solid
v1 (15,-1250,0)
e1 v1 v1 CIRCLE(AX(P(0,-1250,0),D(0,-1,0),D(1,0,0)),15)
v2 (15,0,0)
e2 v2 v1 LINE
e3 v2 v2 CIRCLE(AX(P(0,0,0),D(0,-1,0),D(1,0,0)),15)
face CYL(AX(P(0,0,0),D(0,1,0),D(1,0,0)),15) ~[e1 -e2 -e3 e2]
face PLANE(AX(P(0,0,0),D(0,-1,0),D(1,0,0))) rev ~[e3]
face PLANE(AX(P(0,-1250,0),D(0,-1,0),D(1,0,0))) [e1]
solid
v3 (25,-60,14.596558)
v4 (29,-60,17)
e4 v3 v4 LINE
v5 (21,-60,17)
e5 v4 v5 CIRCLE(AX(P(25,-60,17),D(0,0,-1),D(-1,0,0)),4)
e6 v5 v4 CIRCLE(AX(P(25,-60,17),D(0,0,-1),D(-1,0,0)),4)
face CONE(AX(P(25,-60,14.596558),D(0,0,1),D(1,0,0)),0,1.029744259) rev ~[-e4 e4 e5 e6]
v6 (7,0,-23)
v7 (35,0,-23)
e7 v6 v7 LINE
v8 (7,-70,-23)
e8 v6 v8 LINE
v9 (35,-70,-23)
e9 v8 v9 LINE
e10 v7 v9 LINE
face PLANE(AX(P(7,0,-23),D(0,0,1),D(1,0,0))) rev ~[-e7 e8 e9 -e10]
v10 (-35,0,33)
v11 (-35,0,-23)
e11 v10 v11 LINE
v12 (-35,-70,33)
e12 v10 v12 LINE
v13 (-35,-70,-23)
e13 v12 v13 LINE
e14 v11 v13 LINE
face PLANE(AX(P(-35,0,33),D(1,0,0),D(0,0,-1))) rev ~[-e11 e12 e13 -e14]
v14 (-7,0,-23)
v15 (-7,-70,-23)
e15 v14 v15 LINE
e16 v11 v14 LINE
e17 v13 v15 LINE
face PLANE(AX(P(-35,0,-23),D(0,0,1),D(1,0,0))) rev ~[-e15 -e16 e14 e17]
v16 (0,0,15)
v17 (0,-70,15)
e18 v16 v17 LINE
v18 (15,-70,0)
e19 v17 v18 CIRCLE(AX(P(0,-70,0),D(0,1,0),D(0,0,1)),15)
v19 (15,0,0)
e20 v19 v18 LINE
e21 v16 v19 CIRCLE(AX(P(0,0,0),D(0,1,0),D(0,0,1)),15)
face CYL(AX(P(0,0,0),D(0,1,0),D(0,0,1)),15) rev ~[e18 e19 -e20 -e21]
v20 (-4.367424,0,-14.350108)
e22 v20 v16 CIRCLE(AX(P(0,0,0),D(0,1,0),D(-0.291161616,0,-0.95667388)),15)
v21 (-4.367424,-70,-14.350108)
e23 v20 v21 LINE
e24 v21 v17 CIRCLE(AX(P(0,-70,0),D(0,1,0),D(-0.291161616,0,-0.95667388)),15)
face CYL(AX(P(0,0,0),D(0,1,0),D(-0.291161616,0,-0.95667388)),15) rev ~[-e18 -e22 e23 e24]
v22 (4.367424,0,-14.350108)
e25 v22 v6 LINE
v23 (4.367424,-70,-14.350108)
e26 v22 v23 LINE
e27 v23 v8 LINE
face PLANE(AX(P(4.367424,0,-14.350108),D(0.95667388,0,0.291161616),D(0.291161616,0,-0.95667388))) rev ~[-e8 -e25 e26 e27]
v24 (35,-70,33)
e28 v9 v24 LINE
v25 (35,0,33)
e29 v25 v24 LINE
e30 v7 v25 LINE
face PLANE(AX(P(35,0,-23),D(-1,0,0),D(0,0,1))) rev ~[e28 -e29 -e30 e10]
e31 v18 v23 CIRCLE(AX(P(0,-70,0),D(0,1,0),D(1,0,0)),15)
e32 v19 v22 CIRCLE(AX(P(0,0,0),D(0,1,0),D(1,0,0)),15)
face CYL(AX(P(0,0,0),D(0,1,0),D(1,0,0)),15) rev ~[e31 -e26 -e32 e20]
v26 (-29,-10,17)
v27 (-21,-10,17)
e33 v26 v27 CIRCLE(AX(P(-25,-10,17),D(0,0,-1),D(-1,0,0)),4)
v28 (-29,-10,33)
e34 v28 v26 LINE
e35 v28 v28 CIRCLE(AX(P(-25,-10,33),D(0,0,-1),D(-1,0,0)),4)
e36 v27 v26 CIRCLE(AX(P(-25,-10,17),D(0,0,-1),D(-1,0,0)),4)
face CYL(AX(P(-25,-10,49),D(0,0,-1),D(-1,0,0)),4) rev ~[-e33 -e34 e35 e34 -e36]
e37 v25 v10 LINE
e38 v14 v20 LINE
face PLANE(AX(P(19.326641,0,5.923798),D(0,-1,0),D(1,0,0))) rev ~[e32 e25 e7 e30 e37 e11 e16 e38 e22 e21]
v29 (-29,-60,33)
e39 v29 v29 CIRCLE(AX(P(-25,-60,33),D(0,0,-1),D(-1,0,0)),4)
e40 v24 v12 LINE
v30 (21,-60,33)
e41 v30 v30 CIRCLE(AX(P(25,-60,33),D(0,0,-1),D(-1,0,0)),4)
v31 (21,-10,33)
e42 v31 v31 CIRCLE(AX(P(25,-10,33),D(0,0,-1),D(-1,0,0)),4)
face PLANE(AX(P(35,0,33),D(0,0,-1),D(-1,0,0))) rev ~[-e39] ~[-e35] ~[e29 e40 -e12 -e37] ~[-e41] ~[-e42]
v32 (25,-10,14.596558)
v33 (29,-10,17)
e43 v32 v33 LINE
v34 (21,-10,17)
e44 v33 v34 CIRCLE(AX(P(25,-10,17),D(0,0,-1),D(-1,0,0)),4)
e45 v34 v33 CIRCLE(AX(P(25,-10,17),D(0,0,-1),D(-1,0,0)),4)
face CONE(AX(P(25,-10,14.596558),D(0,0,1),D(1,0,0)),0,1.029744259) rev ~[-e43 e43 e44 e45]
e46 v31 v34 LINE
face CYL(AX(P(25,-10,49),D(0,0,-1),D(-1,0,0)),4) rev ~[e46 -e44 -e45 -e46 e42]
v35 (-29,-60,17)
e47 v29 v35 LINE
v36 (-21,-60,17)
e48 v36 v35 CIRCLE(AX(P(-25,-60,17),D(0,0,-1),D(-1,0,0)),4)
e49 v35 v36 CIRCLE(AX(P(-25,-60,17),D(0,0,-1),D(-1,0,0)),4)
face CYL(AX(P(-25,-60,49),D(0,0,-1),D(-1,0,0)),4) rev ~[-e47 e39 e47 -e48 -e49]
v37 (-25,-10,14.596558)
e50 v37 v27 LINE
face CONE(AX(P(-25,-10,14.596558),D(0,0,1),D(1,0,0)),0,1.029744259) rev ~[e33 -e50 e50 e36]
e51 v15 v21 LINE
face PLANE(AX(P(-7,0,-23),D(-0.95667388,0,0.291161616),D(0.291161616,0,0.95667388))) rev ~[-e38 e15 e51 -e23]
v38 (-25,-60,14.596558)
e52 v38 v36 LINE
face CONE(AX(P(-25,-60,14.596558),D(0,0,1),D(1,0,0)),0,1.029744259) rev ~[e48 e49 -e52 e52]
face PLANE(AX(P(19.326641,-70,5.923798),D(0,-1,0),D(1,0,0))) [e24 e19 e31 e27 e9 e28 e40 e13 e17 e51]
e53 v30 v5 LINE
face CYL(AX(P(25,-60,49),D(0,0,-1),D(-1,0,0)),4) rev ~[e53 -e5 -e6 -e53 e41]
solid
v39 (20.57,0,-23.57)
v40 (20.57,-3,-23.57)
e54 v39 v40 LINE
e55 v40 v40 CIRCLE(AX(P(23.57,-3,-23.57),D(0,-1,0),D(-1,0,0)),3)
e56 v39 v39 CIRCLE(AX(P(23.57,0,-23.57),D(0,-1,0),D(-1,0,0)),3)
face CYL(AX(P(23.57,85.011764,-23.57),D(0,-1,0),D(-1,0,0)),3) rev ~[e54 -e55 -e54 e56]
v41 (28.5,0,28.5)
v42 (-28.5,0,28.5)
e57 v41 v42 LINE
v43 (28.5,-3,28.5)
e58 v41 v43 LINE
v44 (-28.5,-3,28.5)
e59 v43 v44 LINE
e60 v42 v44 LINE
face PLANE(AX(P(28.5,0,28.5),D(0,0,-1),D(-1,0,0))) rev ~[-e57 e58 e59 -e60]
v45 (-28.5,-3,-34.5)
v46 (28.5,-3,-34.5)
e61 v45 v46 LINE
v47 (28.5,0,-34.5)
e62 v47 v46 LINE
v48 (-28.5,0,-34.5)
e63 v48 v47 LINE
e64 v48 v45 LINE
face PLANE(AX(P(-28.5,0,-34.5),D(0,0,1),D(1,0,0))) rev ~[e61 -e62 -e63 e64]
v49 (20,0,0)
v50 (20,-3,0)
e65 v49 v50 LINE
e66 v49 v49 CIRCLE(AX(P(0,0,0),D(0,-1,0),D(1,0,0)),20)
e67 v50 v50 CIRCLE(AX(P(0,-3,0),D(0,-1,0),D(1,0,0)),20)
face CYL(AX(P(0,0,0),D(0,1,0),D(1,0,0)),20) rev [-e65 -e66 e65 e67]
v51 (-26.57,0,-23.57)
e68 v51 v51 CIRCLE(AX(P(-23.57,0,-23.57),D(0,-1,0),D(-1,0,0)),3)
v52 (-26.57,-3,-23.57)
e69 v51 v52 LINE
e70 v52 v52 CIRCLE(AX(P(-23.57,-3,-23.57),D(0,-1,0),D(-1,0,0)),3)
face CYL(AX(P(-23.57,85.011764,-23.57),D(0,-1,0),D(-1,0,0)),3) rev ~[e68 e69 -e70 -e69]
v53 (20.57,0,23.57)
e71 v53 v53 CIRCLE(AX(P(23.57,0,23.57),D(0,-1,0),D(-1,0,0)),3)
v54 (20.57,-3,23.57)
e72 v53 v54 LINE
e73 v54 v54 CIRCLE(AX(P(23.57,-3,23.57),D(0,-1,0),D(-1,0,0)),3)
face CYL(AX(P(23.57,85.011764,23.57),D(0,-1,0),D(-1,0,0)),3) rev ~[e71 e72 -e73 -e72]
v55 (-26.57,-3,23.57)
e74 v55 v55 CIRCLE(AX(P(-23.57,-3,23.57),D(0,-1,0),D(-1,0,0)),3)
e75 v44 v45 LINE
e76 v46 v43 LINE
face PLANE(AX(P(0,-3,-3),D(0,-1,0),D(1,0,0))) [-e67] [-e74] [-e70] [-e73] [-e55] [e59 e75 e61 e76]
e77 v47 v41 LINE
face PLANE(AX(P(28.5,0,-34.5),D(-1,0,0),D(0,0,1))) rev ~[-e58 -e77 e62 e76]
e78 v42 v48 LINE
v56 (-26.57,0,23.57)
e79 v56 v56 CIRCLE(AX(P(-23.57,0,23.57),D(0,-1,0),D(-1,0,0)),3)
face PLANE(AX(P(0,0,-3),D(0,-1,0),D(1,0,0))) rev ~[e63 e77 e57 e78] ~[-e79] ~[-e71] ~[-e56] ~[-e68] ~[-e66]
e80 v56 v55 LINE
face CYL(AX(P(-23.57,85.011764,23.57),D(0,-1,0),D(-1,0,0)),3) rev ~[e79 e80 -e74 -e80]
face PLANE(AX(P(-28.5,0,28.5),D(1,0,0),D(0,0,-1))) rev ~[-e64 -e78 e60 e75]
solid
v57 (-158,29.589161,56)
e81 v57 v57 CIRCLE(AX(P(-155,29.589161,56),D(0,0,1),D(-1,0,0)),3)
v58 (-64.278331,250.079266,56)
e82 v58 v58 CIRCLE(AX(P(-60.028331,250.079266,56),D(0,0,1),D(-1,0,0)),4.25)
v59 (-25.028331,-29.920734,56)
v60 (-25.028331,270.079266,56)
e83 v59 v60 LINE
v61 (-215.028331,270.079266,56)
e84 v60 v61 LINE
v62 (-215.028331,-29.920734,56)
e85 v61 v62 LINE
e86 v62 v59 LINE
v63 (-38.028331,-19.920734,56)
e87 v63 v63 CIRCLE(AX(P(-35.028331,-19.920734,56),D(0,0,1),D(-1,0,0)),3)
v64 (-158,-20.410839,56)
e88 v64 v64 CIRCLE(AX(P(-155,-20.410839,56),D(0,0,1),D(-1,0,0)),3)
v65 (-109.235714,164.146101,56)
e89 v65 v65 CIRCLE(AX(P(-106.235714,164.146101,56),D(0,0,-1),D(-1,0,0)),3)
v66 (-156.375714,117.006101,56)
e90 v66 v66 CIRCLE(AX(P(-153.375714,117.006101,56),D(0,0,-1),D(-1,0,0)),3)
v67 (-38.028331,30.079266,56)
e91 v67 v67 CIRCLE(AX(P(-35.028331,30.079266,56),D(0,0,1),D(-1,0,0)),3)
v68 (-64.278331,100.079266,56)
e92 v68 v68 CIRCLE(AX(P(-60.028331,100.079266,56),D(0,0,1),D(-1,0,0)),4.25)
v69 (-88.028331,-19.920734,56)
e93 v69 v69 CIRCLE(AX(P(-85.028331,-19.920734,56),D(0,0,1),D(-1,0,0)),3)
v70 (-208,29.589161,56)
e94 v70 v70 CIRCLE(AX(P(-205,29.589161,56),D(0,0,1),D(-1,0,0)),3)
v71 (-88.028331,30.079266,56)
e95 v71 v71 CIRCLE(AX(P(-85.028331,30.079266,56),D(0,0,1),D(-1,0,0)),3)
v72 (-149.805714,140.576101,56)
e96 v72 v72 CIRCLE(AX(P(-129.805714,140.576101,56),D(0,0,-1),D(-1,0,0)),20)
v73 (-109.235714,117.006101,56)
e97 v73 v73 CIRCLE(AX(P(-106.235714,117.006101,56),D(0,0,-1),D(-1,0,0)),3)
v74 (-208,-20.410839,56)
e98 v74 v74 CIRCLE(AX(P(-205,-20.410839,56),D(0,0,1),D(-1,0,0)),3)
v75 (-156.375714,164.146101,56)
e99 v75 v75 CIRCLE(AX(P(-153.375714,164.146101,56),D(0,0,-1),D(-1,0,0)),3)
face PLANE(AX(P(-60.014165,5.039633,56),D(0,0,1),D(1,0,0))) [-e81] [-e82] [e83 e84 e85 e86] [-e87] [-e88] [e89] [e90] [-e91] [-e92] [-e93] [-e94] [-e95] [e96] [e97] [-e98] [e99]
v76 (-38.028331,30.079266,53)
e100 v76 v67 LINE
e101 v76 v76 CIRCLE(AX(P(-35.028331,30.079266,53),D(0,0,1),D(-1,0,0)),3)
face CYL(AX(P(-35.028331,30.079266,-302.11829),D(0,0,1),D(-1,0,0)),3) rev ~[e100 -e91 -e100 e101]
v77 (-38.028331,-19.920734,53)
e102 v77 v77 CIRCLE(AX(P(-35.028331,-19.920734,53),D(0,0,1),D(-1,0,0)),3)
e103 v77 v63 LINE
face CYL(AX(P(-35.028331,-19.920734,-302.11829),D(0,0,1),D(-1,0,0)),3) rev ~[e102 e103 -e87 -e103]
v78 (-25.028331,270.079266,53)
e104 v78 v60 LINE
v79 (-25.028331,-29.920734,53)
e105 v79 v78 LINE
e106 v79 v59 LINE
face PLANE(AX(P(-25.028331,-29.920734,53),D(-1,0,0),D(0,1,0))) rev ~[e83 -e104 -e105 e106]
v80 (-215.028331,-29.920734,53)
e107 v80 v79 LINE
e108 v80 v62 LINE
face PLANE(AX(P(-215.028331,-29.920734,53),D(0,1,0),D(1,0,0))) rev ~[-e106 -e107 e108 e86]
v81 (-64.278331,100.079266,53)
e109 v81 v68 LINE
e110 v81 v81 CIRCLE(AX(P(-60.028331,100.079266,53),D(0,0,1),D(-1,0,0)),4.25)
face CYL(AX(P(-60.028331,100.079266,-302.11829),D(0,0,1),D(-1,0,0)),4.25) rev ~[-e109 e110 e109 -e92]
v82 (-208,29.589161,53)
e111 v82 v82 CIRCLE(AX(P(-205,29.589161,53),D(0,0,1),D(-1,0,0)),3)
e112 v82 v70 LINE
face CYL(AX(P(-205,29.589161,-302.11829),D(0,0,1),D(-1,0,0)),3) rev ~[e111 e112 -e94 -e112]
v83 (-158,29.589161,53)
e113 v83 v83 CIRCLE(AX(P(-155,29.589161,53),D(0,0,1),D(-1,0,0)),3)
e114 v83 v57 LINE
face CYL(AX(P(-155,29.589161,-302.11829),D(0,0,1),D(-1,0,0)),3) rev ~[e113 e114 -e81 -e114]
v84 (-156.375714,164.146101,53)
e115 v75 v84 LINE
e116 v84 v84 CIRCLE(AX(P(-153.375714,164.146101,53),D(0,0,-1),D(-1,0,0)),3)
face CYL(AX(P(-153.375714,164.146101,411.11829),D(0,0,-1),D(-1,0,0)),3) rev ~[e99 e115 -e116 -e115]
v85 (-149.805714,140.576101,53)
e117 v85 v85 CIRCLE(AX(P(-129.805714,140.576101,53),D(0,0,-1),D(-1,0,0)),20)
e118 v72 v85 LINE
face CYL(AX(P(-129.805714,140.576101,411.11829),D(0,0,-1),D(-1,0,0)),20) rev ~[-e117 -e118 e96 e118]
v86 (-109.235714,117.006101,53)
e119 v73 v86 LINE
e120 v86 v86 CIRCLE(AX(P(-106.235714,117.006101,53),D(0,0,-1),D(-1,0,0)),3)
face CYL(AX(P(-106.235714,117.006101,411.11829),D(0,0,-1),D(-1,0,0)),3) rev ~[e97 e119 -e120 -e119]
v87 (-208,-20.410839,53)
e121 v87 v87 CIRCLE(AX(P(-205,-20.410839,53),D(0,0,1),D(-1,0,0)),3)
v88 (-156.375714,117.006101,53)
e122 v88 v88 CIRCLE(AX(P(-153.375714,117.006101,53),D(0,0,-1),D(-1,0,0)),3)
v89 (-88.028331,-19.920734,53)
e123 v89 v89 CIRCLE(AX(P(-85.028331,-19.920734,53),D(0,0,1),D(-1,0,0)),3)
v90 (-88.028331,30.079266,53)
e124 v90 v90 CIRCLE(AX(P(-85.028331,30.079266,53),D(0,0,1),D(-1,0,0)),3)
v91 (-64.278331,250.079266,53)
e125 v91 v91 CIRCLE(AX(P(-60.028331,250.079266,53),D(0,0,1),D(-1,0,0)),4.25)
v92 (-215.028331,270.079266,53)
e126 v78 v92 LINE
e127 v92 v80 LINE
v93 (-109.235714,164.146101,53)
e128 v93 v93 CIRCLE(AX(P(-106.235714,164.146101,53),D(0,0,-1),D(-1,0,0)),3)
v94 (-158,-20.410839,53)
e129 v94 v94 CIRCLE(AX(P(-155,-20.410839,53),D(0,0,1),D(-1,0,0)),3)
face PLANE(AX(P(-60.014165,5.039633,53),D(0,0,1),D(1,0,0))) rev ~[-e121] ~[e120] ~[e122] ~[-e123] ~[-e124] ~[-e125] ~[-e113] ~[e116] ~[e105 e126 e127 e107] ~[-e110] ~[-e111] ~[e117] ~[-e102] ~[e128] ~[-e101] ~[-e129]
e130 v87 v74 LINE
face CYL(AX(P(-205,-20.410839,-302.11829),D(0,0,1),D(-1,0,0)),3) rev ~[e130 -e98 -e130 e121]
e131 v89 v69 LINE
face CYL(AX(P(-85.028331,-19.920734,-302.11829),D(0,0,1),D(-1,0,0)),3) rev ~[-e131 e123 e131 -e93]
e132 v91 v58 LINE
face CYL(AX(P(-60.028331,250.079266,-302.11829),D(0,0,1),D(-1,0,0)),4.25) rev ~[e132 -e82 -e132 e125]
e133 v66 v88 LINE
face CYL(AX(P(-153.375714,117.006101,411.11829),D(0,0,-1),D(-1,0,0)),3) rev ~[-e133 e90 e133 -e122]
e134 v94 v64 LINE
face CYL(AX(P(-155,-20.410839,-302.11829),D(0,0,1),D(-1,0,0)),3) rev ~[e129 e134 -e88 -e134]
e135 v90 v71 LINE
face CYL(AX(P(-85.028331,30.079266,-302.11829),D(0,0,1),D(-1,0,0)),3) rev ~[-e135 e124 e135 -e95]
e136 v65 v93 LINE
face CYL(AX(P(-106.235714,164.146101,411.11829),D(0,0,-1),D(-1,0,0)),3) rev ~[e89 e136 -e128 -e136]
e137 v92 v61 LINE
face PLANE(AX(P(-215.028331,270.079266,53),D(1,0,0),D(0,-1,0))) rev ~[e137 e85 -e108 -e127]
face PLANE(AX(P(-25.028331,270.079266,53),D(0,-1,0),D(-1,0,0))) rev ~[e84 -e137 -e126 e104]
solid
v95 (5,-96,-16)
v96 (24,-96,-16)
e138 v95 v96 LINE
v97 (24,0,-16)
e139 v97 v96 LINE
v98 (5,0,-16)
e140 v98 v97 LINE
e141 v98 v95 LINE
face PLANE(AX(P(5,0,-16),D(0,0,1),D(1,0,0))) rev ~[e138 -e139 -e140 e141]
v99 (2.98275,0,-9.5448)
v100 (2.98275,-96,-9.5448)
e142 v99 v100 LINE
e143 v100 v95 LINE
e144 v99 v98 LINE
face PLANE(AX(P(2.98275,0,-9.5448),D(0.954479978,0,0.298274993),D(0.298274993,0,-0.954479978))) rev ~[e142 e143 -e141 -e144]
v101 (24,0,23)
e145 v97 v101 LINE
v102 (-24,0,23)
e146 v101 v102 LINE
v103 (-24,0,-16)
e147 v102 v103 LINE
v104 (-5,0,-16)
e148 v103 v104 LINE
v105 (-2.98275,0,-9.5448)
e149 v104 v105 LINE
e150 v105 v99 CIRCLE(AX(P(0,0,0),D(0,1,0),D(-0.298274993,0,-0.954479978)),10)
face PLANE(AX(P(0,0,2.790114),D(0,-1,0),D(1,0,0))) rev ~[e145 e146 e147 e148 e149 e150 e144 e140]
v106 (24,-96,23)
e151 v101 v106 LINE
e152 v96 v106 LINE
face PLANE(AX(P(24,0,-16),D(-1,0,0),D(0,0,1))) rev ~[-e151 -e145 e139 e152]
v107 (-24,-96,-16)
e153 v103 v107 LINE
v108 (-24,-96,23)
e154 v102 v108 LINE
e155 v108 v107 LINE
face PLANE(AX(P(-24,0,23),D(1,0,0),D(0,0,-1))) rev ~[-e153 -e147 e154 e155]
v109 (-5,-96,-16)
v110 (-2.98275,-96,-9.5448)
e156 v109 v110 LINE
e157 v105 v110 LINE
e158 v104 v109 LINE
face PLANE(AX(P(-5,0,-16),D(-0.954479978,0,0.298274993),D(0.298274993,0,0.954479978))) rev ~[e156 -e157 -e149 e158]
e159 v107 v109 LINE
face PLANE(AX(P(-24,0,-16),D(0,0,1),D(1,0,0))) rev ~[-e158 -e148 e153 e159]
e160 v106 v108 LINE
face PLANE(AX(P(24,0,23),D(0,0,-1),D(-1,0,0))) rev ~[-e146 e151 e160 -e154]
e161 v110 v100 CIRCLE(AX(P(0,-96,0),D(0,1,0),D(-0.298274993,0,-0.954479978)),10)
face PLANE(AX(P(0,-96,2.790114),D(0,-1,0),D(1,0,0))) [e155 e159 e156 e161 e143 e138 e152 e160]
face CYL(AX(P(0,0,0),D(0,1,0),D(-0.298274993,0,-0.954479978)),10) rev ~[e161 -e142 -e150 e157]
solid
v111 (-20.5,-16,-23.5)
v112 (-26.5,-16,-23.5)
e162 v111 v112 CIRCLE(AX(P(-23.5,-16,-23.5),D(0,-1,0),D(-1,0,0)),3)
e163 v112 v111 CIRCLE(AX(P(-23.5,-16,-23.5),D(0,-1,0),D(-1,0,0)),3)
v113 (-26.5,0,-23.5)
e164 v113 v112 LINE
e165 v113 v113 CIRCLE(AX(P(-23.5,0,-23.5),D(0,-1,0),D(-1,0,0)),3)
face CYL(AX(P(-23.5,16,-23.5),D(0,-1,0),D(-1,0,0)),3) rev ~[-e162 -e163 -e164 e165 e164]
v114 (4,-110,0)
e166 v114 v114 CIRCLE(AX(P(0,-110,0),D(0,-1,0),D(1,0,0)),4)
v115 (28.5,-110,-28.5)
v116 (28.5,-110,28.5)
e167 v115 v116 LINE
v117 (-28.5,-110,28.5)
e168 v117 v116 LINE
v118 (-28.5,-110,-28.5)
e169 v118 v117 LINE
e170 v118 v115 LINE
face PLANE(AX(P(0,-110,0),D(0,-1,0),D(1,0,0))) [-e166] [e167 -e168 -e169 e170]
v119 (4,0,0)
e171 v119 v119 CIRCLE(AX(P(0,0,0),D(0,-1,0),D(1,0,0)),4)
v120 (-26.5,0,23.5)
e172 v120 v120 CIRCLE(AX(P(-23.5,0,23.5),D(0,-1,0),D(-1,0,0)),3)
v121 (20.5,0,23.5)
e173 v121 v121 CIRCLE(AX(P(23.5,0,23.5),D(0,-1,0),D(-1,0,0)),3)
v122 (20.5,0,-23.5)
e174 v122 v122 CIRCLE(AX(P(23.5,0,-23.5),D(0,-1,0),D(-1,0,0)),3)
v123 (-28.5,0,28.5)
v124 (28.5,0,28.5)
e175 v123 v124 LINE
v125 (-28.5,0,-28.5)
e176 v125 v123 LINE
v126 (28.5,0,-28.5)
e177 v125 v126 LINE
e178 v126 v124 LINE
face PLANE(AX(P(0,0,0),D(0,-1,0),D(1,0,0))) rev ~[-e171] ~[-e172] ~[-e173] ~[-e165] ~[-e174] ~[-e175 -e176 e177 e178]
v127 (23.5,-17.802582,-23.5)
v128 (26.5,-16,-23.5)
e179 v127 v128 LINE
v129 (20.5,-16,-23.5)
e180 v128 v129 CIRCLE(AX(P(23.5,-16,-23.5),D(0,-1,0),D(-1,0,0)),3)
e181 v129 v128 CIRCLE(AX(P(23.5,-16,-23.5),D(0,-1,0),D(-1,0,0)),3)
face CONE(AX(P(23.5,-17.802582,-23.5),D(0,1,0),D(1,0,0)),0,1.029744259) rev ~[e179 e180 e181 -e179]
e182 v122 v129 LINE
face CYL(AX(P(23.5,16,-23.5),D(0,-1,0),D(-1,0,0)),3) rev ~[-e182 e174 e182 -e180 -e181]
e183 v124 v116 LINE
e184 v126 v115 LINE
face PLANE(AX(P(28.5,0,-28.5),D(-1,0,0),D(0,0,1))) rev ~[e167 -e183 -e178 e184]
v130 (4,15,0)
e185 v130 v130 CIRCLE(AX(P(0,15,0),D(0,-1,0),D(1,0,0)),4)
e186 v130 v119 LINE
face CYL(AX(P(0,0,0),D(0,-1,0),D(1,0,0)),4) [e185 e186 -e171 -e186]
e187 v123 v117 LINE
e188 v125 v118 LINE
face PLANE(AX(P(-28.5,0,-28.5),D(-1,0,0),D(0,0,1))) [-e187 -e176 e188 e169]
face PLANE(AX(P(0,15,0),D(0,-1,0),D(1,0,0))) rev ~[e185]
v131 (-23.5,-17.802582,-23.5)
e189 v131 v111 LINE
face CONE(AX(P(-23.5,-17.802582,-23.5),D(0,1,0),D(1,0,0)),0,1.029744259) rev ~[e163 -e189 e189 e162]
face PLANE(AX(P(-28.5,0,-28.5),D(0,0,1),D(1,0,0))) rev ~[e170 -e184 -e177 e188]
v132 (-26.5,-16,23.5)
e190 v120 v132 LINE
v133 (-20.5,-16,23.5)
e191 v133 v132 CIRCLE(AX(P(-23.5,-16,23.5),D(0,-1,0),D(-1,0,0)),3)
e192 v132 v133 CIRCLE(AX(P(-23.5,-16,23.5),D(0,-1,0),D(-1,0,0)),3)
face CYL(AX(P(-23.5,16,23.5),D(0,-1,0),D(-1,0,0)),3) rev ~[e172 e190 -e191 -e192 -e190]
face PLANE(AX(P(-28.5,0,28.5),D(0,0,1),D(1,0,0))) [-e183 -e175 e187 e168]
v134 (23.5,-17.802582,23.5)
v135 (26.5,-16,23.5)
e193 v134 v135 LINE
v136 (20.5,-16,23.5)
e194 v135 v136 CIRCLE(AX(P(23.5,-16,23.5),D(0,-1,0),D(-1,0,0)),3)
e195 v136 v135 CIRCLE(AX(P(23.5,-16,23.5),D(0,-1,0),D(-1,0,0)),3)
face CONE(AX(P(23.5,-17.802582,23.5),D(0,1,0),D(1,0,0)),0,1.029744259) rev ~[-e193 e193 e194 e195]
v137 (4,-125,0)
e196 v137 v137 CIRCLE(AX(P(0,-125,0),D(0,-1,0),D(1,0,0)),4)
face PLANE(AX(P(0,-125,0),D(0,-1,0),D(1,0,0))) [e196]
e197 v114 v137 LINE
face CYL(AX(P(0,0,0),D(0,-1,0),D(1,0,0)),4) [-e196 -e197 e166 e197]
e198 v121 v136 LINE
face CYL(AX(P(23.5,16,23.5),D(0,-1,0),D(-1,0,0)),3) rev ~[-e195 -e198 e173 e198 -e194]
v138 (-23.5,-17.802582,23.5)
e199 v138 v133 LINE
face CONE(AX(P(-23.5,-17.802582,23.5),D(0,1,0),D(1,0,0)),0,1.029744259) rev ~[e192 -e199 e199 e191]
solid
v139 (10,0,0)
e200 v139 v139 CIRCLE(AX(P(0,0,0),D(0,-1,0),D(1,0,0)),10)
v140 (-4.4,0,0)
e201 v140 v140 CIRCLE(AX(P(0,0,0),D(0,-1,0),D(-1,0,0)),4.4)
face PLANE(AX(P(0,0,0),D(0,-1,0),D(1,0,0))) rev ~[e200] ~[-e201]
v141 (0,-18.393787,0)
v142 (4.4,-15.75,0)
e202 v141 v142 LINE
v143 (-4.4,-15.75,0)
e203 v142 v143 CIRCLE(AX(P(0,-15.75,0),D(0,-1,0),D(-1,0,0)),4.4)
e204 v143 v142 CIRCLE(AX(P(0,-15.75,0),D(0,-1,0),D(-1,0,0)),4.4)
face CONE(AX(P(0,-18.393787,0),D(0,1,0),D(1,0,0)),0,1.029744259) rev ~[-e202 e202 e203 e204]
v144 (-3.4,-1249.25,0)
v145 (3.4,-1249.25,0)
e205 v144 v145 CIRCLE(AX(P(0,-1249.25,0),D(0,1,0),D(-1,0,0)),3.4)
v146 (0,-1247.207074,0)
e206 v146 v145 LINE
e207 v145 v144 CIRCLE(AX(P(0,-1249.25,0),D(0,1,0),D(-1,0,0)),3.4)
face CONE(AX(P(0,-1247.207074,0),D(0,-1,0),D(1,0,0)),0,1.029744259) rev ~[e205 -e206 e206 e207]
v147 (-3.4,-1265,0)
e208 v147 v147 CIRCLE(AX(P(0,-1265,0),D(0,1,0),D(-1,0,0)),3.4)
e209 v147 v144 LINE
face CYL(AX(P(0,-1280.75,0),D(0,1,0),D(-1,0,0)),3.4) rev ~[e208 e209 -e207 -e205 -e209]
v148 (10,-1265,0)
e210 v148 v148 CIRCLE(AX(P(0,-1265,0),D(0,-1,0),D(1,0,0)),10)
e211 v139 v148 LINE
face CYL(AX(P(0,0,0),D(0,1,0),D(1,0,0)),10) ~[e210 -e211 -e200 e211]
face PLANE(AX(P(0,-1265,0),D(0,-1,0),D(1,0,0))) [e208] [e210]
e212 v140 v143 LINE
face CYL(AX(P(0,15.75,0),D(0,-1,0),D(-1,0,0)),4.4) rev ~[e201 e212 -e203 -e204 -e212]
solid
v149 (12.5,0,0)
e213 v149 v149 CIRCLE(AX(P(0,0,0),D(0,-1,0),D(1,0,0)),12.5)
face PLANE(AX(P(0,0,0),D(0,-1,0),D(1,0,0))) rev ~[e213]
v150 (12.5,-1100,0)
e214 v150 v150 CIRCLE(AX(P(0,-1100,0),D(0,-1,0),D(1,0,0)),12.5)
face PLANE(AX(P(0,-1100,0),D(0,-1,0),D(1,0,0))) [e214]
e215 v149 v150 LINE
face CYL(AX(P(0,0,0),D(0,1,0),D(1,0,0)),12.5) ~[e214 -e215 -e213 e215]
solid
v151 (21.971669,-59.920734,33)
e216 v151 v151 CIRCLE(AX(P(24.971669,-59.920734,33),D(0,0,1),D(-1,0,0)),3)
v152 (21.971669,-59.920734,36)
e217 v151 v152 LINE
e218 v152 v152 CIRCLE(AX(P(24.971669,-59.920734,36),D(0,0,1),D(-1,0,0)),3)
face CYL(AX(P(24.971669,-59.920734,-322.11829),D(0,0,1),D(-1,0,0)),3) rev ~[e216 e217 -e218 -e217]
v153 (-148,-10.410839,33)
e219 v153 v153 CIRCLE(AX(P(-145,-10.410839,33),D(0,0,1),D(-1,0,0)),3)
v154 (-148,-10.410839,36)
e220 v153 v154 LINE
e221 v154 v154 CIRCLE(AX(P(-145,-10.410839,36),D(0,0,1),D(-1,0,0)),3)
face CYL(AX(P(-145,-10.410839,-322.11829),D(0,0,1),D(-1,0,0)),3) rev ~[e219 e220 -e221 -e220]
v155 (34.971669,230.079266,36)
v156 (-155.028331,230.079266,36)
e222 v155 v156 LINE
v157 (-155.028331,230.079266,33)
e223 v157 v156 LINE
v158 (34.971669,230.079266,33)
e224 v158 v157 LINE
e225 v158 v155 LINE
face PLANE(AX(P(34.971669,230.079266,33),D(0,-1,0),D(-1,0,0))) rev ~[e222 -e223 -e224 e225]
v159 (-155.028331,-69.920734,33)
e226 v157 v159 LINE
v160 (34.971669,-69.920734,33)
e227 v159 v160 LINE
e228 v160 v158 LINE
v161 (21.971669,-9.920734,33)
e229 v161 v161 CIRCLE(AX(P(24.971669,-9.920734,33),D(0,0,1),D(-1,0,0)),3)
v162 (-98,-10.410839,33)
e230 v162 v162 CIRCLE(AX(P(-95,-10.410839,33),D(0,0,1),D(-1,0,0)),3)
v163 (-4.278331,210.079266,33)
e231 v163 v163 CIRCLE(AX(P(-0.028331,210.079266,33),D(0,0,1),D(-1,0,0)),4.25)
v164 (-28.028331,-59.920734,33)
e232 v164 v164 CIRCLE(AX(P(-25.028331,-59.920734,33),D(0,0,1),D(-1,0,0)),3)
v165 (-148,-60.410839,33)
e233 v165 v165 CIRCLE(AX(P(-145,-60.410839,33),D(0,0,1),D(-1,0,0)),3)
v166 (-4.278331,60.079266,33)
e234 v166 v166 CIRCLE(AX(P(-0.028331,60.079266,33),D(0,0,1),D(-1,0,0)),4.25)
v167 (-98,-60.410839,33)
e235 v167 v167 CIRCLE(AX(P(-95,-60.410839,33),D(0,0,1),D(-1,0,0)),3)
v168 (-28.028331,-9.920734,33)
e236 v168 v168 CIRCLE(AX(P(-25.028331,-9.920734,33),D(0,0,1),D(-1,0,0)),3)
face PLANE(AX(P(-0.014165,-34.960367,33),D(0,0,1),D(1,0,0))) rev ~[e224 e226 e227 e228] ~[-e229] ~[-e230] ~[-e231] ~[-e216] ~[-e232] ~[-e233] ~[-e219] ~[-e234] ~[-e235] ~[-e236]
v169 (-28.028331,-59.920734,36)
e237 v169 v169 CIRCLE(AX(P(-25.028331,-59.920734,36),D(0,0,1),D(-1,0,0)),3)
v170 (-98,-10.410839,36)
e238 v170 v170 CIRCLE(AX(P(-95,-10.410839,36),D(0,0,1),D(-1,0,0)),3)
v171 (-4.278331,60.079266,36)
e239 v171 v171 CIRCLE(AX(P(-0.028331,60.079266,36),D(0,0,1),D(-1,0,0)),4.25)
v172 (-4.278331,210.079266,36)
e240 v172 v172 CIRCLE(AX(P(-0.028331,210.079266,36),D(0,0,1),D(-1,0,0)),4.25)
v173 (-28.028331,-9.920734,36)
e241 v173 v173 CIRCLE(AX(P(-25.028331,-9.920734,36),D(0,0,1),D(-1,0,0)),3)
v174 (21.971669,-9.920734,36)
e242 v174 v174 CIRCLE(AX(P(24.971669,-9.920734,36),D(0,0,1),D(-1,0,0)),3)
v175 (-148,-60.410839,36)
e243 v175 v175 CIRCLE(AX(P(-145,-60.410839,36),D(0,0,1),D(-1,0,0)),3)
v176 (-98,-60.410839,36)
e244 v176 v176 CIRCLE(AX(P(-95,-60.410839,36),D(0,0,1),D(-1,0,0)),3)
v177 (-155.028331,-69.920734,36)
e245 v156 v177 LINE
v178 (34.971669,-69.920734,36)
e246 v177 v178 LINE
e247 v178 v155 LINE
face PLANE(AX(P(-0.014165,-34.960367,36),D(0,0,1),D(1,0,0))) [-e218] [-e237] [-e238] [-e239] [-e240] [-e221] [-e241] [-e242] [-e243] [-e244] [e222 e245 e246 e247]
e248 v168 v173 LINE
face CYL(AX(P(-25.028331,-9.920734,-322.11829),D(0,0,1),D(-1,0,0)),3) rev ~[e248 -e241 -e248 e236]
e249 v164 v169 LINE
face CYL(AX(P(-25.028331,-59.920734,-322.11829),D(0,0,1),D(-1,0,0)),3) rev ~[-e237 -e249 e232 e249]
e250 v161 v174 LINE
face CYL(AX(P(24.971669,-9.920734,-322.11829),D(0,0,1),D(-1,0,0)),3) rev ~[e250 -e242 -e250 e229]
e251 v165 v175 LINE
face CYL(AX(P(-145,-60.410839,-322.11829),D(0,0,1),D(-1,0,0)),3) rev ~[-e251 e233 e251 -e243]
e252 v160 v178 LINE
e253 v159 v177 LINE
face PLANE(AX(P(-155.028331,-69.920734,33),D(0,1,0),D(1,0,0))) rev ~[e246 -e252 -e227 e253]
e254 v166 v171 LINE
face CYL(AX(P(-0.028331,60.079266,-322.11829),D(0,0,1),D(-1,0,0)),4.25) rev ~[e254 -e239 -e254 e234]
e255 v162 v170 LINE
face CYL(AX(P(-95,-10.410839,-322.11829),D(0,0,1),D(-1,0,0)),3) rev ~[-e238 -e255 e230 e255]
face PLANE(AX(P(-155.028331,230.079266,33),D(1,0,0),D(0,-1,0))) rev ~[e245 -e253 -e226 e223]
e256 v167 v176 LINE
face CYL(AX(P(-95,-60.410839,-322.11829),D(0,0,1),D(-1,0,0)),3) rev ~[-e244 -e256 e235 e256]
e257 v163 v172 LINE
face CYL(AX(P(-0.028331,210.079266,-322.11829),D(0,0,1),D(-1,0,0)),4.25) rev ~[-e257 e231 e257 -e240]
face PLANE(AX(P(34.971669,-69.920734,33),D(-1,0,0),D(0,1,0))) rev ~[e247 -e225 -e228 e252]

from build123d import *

# Parameters (mm, degrees)
F0_R          = 4
F1_DEPTH      = 125
F1_DEPTH_BACK = 15
F0_W          = 57
F0_H          = 57
F2_DEPTH      = 110
F3_D          = 6
F3_DEPTH      = 16
F3_TIP        = 1.8025818571
F4_R          = 12.5
F5_DEPTH      = 1100
F7_DEPTH      = 70
F9_DEPTH      = 96
F11_D         = 8
F11_DEPTH     = 16
F11_TIP       = 2.4034424761
F12_R         = 15
F13_DEPTH     = 1250
F15_DEPTH     = 3
F16_D         = 6
F17_D         = 8.5
F18_R         = 10
F19_DEPTH     = 1265
F20_D         = 8.8
F20_DEPTH     = 15.75
F20_TIP       = 2.6437867237
F23_D         = 6.8
F23_DEPTH     = 15.75
F23_TIP       = 2.0429261047
F24_R         = 20
F25_DEPTH     = 3
F26_D         = 6
F29_D         = 6
F30_D         = 40


with BuildPart() as f1:
    # F0 (on Front) → F1 (new body, two sides)
    with BuildSketch(Plane.XZ) as f1_sk:
        Circle(F0_R)
    extrude(amount=F1_DEPTH)
    extrude(f1_sk.sketch, amount=-F1_DEPTH_BACK)

    # F0 (on Front) → F2 (join)
    with BuildSketch(Plane.XZ):
        Rectangle(F0_W, F0_H)
        Circle(F0_R, mode=Mode.SUBTRACT)
    extrude(amount=F2_DEPTH)

    # F3
    with Locations(Plane(origin=(0, 0, 0), x_dir=(1, 0, 0), z_dir=(0, 1, 0))):
        with Locations((23.5, 23.5), (23.5, -23.5), (-23.5, -23.5), (-23.5, 23.5)):
            Hole(F3_D / 2, depth=F3_DEPTH)
            with Locations((0, 0, -(F3_DEPTH + F3_TIP / 2))):  # 118° drill point
                Cone(0, F3_D / 2, F3_TIP, mode=Mode.SUBTRACT)


with BuildPart() as f5:
    # F4 (on Front) → F5 (new body)
    with BuildSketch(Plane.XZ):
        Circle(F4_R)
    extrude(amount=F5_DEPTH)


with BuildPart() as f7:
    # F6 (on Front) → F7 (new body)
    with BuildSketch(Plane.XZ):
        with BuildLine():
            Line((35, 33), (0, 33))
            Line((0, 33), (0, 15))
            ThreePointArc((0, 15), (10.6066017178, 10.6066017178), (15, 0))
            ThreePointArc((15, 0), (12.0522065107, -8.9299674257), (4.3674242367, -14.3501082064))
            Line((4.3674242367, -14.3501082064), (7, -23))
            Line((7, -23), (35, -23))
            Line((35, -23), (35, 0))
            Line((35, 0), (35, 33))
        make_face()
        with BuildLine():
            Line((0, 15), (0, 33))
            Line((0, 33), (-35, 33))
            Line((-35, 33), (-35, 0))
            Line((-35, 0), (-35, -23))
            Line((-35, -23), (-7, -23))
            Line((-7, -23), (-4.3674242367, -14.3501082064))
            ThreePointArc((-4.3674242367, -14.3501082064), (-14.8366374744, 2.2077564294), (0, 15))
        make_face()
    extrude(amount=F7_DEPTH)

    # F11
    with Locations(Plane.XY.offset(33)):
        with Locations((-25, -60), (-25, -10), (25, -10), (25, -60)):
            Hole(F11_D / 2, depth=F11_DEPTH)
            with Locations((0, 0, -(F11_DEPTH + F11_TIP / 2))):  # 118° drill point
                Cone(0, F11_D / 2, F11_TIP, mode=Mode.SUBTRACT)


with BuildPart() as f9:
    # F8 (on Front) → F9 (new body)
    with BuildSketch(Plane.XZ):
        with BuildLine():
            Line((24, 23), (0, 23))
            Line((0, 23), (-24, 23))
            Line((-24, 23), (-24, 0))
            Line((-24, 0), (-24, -16))
            Line((-24, -16), (-5, -16))
            Line((-5, -16), (-2.9827499314, -9.5447997804))
            ThreePointArc((-2.9827499314, -9.5447997804), (0, 10), (2.9827499314, -9.5447997804))
            Line((2.9827499314, -9.5447997804), (5, -16))
            Line((5, -16), (24, -16))
            Line((24, -16), (24, 0))
            Line((24, 0), (24, 23))
        make_face()
    extrude(amount=F9_DEPTH)


with BuildPart() as f13:
    # F12 (on Front) → F13 (new body)
    with BuildSketch(Plane.XZ):
        Circle(F12_R)
    extrude(amount=F13_DEPTH)


with BuildPart() as f15:
    # F14 (on face) → F15 (new body)
    with BuildSketch(Plane.XY.offset(33)):
        Polygon((-35, -69.9207335711), (34.9716693163, -69.9207335711), (34.9716693163, 0), (0, 0), (-35, 0), align=None)
        Polygon((-155.0283306837, -69.9207335711), (-35, -69.9207335711), (-35, 0), (0, 0), (34.9716693163, 0), (34.9716693163, 230.0792664289), (-155.0283306837, 230.0792664289), align=None)
    extrude(amount=F15_DEPTH)

    # F16 (through all)
    with Locations(Plane(origin=(0, 0, 33), x_dir=(1, 0, 0), z_dir=(0, 0, -1))):
        with Locations((-145, 10.4108385742), (-95, 10.4108385742), (-95, 60.4108385742), (-145, 60.4108385742), (-25.0283306837, 9.9207335711), (-25.0283306837, 59.9207335711), (24.9716693163, 59.9207335711), (24.9716693163, 9.9207335711)):
            Hole(F16_D / 2)

    # F17 (through all)
    with Locations(Plane(origin=(0, 0, 33), x_dir=(1, 0, 0), z_dir=(0, 0, -1))):
        with Locations((-0.0283306837, -210.0792664289), (-0.0283306837, -60.0792664289)):
            Hole(F17_D / 2)


with BuildPart() as f19:
    # F18 (on Front) → F19 (new body)
    with BuildSketch(Plane.XZ):
        Circle(F18_R)
    extrude(amount=F19_DEPTH)

    # F20
    with Locations(Plane(origin=(0, 0, 0), x_dir=(1, 0, 0), z_dir=(0, 1, 0))):
        with Locations((0, 0)):
            Hole(F20_D / 2, depth=F20_DEPTH)
            with Locations((0, 0, -(F20_DEPTH + F20_TIP / 2))):  # 118° drill point
                Cone(0, F20_D / 2, F20_TIP, mode=Mode.SUBTRACT)

    # F23
    with Locations(Plane.XZ.offset(1265)):
        with Locations((0, 0)):
            Hole(F23_D / 2, depth=F23_DEPTH)
            with Locations((0, 0, -(F23_DEPTH + F23_TIP / 2))):  # 118° drill point
                Cone(0, F23_D / 2, F23_TIP, mode=Mode.SUBTRACT)


with BuildPart() as f25:
    # F24 (on Front) → F25 (new body)
    with BuildSketch(Plane.XZ):
        Polygon((28.5, 28.5), (-28.5, 28.5), (-28.5, -31.5), (-28.5, -34.5), (28.5, -34.5), (28.5, -31.5), align=None)
        Circle(F24_R, mode=Mode.SUBTRACT)
    extrude(amount=F25_DEPTH)

    # F26 (through all)
    with Locations(Plane(origin=(0, 0, 0), x_dir=(1, 0, 0), z_dir=(0, 1, 0))):
        with Locations((-23.57, -23.57), (23.57, -23.57), (23.57, 23.57), (-23.57, 23.57)):
            Hole(F26_D / 2)


with BuildPart() as f27_1:
    # F27: copy of F15
    add(f15.part.moved(Location((-60, 40, 20))))

    # F29 (through all)
    with Locations(Plane.XY.offset(56)):
        with Locations((-153.375713892, 117.0061008913), (-153.375713892, 164.1461008913), (-106.235713892, 164.1461008913), (-106.235713892, 117.0061008913)):
            Hole(F29_D / 2)

    # F30 (through all)
    with Locations(Plane.XY.offset(56)):
        with Locations((-129.805713892, 140.5761008913)):
            Hole(F30_D / 2)


solid = Compound([f1.part, f5.part, f7.part, f9.part, f13.part, f15.part, f19.part, f25.part, f27_1.part])
